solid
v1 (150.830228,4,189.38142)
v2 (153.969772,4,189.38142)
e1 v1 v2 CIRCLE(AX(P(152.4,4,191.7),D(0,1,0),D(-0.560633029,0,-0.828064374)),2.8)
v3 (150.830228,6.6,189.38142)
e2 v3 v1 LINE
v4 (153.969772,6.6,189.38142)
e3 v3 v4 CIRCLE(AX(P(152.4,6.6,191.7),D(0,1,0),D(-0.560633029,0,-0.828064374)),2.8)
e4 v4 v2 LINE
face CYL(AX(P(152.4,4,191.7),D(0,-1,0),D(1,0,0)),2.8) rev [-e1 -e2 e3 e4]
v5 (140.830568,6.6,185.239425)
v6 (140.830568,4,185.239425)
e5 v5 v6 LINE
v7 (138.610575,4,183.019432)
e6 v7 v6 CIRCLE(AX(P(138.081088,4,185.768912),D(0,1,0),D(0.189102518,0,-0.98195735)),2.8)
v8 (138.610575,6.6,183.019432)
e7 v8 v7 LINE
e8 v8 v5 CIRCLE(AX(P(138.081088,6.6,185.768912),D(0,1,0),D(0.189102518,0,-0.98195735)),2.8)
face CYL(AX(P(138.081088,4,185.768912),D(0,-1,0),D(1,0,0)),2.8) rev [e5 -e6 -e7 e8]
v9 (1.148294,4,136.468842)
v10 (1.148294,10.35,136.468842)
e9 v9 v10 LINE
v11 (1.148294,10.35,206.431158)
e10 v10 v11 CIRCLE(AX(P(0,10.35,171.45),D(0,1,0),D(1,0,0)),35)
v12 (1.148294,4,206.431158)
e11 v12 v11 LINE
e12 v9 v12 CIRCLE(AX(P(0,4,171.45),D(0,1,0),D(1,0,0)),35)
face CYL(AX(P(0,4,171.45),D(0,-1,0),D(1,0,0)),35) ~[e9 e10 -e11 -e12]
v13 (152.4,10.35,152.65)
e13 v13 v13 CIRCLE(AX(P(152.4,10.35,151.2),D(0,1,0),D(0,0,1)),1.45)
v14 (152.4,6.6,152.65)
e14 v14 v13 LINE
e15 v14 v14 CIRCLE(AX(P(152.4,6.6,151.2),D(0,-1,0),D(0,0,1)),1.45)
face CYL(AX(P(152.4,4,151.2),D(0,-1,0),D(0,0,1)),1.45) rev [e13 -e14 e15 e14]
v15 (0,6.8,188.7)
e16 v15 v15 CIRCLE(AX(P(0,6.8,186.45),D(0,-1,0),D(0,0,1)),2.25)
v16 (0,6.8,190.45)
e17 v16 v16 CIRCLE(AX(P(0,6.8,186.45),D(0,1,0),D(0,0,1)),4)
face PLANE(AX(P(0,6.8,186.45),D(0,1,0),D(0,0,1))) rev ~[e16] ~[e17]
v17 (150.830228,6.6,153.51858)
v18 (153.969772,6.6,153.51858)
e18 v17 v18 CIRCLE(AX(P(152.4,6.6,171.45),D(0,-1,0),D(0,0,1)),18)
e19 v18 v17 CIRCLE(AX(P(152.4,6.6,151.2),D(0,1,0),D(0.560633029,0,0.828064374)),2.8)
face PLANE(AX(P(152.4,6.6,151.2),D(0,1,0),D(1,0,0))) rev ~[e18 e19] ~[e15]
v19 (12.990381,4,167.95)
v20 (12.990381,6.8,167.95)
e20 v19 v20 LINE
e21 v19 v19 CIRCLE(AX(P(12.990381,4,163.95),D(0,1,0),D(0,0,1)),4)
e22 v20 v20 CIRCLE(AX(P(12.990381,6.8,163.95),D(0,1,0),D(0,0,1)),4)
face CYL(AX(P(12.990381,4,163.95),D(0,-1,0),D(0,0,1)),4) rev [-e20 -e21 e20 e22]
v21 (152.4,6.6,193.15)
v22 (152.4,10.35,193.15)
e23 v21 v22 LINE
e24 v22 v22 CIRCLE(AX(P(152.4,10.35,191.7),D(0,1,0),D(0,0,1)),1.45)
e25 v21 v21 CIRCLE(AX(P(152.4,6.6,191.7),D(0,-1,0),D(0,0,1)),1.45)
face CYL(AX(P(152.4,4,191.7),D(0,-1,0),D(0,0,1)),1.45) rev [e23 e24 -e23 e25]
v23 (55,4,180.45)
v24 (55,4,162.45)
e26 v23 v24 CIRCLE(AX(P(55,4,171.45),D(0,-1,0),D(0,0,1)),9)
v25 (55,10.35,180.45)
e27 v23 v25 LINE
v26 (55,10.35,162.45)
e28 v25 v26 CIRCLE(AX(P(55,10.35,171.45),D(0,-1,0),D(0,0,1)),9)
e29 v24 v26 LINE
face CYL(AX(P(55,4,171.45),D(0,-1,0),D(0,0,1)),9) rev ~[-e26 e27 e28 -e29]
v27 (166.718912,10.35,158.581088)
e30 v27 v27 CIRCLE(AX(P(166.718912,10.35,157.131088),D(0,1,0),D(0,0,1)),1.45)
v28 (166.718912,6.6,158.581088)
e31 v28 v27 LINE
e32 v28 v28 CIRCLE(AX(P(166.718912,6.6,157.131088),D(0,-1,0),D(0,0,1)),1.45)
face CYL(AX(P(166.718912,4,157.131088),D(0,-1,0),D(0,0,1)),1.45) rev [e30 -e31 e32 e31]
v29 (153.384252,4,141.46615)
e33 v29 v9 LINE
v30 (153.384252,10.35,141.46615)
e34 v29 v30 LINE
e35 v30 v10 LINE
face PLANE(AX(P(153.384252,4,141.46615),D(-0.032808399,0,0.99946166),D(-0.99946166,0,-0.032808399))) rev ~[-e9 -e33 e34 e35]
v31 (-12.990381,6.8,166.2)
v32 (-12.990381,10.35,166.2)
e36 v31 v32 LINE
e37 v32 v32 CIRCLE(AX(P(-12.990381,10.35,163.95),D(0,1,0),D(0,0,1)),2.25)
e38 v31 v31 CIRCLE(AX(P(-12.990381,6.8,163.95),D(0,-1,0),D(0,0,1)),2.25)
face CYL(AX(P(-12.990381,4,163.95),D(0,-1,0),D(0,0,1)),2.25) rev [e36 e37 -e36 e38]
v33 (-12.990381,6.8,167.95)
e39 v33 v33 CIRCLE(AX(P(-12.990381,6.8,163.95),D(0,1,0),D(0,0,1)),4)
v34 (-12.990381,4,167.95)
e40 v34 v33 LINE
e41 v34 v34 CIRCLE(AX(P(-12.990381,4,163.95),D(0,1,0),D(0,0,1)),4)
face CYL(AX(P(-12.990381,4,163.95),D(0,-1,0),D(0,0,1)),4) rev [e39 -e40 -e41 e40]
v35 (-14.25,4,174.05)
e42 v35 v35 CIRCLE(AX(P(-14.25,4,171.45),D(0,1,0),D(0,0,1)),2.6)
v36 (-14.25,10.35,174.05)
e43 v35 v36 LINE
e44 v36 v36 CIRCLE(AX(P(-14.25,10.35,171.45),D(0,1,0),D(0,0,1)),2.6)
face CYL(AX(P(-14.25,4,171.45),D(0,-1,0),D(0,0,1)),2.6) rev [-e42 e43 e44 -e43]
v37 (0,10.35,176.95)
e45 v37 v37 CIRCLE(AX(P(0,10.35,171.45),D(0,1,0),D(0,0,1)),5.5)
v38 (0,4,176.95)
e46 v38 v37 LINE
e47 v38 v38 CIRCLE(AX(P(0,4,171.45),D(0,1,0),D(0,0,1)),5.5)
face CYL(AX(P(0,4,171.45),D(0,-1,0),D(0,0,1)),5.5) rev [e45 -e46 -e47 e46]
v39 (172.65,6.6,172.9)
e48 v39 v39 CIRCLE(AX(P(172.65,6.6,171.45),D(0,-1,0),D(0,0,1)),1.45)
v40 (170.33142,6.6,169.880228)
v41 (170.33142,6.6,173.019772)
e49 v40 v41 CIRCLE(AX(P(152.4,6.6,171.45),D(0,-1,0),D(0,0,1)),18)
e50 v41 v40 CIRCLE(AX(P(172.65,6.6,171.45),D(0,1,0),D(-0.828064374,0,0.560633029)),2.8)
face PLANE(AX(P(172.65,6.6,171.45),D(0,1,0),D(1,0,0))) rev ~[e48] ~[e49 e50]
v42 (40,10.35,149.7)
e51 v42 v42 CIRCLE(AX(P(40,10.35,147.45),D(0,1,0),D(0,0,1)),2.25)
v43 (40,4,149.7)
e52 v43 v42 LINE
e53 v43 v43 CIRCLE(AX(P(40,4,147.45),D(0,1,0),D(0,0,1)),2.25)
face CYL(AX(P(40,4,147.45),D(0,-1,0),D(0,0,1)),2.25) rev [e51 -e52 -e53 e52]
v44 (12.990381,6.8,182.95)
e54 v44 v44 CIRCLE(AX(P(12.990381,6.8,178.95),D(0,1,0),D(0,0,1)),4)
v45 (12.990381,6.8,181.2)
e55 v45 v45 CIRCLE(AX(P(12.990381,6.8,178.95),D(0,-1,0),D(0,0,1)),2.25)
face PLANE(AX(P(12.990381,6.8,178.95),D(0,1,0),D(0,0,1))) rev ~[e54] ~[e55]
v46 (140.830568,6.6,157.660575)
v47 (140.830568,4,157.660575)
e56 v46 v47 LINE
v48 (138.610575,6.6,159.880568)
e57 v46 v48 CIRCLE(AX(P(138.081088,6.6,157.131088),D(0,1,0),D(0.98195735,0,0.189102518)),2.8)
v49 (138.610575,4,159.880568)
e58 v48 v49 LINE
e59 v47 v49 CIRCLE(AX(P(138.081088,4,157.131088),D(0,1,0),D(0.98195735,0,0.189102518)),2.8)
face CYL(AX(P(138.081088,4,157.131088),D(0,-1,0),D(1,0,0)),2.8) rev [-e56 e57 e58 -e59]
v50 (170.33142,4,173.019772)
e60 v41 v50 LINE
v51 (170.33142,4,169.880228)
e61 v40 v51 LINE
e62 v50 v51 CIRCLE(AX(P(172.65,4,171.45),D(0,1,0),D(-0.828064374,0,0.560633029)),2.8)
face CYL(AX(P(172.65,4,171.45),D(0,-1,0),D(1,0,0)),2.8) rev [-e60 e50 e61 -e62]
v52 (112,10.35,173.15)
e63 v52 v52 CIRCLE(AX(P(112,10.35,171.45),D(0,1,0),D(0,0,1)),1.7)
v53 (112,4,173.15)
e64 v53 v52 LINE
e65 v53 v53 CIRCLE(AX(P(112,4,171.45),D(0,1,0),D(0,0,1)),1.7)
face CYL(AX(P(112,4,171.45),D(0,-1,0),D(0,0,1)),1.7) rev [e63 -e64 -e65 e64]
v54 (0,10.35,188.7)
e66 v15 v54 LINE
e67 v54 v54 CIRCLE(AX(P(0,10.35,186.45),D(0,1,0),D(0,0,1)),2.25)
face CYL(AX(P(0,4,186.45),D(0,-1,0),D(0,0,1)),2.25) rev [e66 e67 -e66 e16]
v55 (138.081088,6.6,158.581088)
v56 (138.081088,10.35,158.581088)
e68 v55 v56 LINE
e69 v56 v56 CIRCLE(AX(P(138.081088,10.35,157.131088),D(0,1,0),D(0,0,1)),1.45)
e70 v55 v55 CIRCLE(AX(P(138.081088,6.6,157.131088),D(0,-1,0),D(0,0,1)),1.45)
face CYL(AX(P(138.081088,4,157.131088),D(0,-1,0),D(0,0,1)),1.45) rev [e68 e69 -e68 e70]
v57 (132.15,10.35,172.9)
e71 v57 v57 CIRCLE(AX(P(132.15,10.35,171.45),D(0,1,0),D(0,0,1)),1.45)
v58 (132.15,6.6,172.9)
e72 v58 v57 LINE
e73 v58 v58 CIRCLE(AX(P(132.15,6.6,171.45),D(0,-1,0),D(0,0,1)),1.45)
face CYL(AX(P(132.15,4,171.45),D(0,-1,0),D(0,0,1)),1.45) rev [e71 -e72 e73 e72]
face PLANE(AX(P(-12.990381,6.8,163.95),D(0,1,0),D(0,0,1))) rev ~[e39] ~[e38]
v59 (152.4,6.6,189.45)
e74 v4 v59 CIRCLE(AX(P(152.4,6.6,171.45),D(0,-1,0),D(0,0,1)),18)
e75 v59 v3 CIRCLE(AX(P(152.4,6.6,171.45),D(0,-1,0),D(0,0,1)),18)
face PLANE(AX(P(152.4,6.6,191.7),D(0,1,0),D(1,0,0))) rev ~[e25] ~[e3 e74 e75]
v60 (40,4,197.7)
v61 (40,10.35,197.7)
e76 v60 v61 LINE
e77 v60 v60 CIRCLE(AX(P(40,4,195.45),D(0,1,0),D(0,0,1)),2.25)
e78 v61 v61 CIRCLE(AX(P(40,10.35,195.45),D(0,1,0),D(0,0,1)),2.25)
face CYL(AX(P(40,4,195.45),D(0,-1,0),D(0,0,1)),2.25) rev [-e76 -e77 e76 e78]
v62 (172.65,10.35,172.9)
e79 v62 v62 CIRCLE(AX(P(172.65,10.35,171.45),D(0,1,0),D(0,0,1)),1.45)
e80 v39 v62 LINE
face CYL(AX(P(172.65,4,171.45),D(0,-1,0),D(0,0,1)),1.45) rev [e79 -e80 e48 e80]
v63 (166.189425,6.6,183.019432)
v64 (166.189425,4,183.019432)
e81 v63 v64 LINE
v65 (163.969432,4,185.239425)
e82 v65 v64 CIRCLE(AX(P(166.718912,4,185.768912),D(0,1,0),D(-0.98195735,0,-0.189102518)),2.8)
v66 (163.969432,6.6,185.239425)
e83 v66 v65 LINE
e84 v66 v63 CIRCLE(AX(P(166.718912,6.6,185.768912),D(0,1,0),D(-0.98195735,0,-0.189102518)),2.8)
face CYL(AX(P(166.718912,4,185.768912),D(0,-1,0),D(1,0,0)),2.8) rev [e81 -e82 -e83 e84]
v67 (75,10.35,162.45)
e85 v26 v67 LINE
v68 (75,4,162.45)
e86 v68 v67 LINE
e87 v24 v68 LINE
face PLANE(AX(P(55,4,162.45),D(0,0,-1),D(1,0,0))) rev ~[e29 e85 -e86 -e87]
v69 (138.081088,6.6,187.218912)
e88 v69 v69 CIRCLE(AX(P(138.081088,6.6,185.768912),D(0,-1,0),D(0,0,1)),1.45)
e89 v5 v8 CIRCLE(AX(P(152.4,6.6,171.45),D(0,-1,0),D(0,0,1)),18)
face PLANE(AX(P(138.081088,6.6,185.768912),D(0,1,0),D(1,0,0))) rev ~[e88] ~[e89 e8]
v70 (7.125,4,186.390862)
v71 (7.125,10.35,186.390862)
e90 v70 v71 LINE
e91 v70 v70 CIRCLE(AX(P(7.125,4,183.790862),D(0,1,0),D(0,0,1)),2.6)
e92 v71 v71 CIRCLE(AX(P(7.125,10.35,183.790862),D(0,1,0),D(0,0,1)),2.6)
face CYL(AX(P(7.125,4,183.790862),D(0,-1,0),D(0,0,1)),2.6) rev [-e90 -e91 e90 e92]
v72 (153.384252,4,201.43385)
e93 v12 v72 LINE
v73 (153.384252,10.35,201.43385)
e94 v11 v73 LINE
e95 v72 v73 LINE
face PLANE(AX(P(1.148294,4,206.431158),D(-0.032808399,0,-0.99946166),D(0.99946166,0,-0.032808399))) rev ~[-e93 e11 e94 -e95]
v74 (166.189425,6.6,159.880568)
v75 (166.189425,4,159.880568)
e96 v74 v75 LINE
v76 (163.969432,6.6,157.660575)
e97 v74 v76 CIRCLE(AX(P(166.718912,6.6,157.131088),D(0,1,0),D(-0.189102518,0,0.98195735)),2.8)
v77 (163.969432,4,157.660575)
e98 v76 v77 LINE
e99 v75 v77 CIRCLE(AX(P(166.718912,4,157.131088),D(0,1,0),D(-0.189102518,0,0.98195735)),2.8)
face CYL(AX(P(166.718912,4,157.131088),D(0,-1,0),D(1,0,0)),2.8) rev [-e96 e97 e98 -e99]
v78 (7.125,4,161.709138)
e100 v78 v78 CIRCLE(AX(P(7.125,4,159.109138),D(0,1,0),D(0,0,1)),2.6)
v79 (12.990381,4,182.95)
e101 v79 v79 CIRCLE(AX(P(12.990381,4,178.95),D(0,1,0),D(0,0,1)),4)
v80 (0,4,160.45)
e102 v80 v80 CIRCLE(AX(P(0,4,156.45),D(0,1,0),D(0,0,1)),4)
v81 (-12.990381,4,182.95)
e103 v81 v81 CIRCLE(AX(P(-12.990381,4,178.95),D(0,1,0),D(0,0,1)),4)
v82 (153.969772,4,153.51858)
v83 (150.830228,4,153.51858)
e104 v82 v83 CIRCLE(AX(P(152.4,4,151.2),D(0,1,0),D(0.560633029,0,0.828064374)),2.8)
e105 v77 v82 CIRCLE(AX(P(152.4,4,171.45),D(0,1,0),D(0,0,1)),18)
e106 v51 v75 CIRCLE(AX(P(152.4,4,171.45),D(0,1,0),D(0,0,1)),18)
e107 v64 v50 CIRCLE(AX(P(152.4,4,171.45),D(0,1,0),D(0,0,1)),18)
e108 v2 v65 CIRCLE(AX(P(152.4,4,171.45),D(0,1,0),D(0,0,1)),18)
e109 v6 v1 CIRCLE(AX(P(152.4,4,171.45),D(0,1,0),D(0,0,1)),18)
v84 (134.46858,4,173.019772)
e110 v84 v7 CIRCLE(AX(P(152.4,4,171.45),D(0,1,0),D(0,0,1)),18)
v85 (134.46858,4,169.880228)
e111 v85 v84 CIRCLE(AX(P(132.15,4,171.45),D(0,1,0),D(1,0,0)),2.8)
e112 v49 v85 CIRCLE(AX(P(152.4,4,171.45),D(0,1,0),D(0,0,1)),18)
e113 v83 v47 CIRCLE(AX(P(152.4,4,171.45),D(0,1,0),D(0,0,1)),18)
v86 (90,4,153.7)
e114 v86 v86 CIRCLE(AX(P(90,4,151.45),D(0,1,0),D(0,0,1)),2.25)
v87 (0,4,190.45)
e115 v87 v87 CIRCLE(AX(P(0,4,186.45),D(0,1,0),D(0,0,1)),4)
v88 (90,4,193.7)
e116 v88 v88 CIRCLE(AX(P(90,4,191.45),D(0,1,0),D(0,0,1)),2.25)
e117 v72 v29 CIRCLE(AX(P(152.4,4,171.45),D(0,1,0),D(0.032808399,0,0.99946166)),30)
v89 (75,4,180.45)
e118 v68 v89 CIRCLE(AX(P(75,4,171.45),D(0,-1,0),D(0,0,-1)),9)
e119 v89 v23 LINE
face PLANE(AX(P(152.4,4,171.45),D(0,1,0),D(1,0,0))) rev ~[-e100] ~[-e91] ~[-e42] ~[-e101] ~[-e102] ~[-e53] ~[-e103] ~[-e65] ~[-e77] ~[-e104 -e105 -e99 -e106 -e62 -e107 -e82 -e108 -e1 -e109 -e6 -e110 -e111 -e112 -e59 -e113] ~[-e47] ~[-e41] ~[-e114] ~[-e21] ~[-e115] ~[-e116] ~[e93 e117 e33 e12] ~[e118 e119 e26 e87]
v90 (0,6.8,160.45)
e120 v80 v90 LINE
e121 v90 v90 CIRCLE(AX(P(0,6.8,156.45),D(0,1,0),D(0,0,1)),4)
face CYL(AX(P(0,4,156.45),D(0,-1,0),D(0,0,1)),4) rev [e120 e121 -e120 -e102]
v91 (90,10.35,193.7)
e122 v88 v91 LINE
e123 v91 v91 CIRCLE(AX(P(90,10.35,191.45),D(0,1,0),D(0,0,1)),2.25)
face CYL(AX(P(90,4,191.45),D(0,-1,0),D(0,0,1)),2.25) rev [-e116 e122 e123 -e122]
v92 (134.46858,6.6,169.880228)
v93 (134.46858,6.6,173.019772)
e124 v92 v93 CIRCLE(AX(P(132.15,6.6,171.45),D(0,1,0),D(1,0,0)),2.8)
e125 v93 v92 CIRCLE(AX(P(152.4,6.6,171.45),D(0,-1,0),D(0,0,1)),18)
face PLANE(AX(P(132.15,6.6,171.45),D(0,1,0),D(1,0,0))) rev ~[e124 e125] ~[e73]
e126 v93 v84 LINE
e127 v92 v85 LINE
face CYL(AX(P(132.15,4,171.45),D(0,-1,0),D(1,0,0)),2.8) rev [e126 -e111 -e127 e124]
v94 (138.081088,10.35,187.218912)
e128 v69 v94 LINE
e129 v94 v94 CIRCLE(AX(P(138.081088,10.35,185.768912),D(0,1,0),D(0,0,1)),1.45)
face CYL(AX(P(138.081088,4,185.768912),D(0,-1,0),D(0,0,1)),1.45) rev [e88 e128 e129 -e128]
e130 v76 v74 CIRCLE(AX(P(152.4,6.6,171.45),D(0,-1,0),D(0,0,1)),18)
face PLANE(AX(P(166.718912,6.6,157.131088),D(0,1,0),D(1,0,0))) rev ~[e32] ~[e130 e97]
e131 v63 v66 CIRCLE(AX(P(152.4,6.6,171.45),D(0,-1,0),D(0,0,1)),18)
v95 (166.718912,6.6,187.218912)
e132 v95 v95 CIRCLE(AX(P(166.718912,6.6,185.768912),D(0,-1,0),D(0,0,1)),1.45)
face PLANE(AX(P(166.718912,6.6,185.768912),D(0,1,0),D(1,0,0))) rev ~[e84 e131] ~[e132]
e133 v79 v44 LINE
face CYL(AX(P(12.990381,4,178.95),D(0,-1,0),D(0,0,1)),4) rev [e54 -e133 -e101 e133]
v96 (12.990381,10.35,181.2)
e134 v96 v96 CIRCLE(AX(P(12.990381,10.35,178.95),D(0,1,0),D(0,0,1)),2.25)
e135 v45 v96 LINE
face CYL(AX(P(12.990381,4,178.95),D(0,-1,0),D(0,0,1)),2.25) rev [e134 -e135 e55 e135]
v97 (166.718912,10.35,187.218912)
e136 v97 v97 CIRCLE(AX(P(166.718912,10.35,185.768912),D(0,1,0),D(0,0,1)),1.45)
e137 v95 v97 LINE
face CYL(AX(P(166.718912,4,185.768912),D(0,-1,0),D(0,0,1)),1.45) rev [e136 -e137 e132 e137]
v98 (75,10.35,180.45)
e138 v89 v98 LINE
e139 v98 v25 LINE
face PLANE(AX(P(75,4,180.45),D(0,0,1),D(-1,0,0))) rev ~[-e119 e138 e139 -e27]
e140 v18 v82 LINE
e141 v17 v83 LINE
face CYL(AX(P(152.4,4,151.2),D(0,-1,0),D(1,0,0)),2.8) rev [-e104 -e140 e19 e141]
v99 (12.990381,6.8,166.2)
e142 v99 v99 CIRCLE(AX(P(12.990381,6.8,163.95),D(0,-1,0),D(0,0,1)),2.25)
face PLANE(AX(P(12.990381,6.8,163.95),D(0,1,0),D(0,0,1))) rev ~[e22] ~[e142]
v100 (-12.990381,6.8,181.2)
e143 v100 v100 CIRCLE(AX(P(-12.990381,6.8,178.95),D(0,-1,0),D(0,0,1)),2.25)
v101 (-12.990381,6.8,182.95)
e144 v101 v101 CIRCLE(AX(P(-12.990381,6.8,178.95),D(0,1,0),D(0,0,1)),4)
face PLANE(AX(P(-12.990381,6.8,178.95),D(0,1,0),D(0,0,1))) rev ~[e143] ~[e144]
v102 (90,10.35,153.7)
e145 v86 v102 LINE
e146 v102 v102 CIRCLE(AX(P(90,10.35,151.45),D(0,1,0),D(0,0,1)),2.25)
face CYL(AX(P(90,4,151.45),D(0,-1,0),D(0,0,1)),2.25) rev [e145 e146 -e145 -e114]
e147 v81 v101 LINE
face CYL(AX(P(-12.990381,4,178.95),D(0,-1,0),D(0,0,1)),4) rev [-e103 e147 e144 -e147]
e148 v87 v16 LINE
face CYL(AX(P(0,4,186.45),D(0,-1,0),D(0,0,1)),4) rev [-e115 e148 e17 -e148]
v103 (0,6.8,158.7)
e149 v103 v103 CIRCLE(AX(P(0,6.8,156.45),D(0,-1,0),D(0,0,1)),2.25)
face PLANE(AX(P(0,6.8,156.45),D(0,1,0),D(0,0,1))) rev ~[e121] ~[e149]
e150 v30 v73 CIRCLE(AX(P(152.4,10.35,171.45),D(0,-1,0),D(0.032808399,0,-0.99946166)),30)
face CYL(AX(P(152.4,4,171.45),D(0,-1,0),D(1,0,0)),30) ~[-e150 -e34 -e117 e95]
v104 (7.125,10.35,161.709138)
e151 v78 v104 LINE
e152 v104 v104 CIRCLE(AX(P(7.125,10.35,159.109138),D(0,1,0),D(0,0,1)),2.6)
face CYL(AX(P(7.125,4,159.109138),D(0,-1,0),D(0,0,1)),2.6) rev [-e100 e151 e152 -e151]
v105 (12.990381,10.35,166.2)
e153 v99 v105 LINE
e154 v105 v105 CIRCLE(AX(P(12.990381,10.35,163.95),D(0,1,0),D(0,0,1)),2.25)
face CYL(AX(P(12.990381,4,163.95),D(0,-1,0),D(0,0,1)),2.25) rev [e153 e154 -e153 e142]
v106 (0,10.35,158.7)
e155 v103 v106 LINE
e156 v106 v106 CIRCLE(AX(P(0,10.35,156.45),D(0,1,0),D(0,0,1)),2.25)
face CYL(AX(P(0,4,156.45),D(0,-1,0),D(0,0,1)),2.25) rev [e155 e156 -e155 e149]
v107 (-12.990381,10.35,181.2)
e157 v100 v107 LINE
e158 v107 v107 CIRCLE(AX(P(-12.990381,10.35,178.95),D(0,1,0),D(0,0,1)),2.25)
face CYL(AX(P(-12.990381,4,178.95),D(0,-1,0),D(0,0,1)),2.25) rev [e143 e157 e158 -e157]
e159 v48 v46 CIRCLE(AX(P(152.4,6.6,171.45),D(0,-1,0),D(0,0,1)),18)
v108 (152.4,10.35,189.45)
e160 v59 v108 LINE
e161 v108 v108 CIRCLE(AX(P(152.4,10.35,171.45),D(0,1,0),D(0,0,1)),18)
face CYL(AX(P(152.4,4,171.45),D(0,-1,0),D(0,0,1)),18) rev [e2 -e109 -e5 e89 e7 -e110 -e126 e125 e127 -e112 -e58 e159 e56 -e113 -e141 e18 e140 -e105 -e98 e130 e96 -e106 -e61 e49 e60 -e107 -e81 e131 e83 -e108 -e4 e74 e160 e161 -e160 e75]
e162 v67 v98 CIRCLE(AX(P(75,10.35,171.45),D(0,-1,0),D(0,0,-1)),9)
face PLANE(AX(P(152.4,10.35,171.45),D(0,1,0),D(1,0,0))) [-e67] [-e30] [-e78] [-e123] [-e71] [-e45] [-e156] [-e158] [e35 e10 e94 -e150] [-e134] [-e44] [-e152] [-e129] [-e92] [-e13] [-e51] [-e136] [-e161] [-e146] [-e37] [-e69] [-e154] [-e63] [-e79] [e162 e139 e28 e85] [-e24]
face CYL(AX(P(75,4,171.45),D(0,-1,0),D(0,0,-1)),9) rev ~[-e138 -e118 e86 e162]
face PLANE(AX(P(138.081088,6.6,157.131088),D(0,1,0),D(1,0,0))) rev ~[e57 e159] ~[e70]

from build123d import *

# Parameters (mm, degrees)
PLACA_START                     = 4
PLACA_DEPTH                     = 6.35
PLACA_R1_START                  = 4
CROQUIS14_R                     = 35
PLACA_R1_DEPTH                  = 6.35
PLACA_R2_START                  = 4
CROQUIS15_R                     = 30
PLACA_R2_DEPTH                  = 6.35
ALIGERADO_START                 = 4
ALIGERADO_DEPTH                 = 6.35
BARRENOS_SEPARADORES_M4_START   = 4
CROQUIS17_R                     = 2.25
BARRENOS_SEPARADORES_M4_DEPTH   = 6.35
BARRENOS_M2_Y_M3_START          = 4
CROQUIS18_R                     = 2.25
CROQUIS18_R_2                   = 2.6
CROQUIS18_R_3                   = 5.5
CROQUIS18_R_4                   = 18
CROQUIS18_R_5                   = 1.45
BARRENOS_M2_Y_M3_DEPTH          = 6.35
REFRENTADO_M4_CABEZA_BAJA_START = 4
CROQUIS19_R                     = 4
REFRENTADO_M4_CABEZA_BAJA_DEPTH = 2.8
REFRENTADO_M2_5_START           = 4
CROQUIS20_R                     = 2.8
REFRENTADO_M2_5_DEPTH           = 2.6
ROSCA_M3_BASES_CINCHO_START     = 4
CROQUIS21_R                     = 1.25
ROSCA_M3_BASES_CINCHO_DEPTH     = 6.35
PASO_M3_BASES_CINCHO_START      = 4
CROQUIS22_R                     = 1.7
PASO_M3_BASES_CINCHO_DEPTH      = 6.35


with BuildPart() as part:
    # Croquis13 → Placa (new body)
    with BuildSketch(Plane(origin=(0, 0, 0), x_dir=(1, 0, 0), z_dir=(0, 1, 0)).offset(PLACA_START)):
        Polygon((1.148293963, -206.431158085), (153.384251969, -201.433849787), (153.384251969, -141.466150213), (1.148293963, -136.468841915), align=None)
    extrude(amount=PLACA_DEPTH)

    # Croquis14 → Placa_r1 (add)
    with BuildSketch(Plane(origin=(0, 0, 0), x_dir=(1, 0, 0), z_dir=(0, 1, 0)).offset(PLACA_R1_START)):
        with Locations((0, -171.45)):
            Circle(CROQUIS14_R)
    extrude(amount=PLACA_R1_DEPTH)

    # Croquis15 → Placa_r2 (add)
    with BuildSketch(Plane(origin=(0, 0, 0), x_dir=(1, 0, 0), z_dir=(0, 1, 0)).offset(PLACA_R2_START)):
        with Locations((152.4, -171.45)):
            Circle(CROQUIS15_R)
    extrude(amount=PLACA_R2_DEPTH)

    # Croquis16 → Aligerado (cut)
    with BuildSketch(Plane(origin=(0, 0, 0), x_dir=(1, 0, 0), z_dir=(0, 1, 0)).offset(ALIGERADO_START)):
        with BuildLine():
            Line((55, -162.45), (75, -162.45))
            ThreePointArc((75, -162.45), (84, -171.45), (75, -180.45))
            Line((75, -180.45), (55, -180.45))
            ThreePointArc((55, -180.45), (46, -171.45), (55, -162.45))
        make_face()
    extrude(amount=ALIGERADO_DEPTH, mode=Mode.SUBTRACT)

    # Croquis17 → Barrenos_separadores_M4 (cut)
    with BuildSketch(Plane(origin=(0, 0, 0), x_dir=(1, 0, 0), z_dir=(0, 1, 0)).offset(BARRENOS_SEPARADORES_M4_START)):
        with Locations((40, -195.45)):
            Circle(CROQUIS17_R)
        with Locations((40, -147.45)):
            Circle(CROQUIS17_R)
        with Locations((90, -191.45)):
            Circle(CROQUIS17_R)
        with Locations((90, -151.45)):
            Circle(CROQUIS17_R)
    extrude(amount=BARRENOS_SEPARADORES_M4_DEPTH, mode=Mode.SUBTRACT)

    # Croquis18 → Barrenos_M2_y_M3 (cut)
    with BuildSketch(Plane(origin=(0, 0, 0), x_dir=(1, 0, 0), z_dir=(0, 1, 0)).offset(BARRENOS_M2_Y_M3_START)):
        with Locations((12.990381057, -178.95)):
            Circle(CROQUIS18_R)
        with Locations((0, -186.45)):
            Circle(CROQUIS18_R)
        with Locations((-12.990381057, -178.95)):
            Circle(CROQUIS18_R)
        with Locations((-12.990381057, -163.95)):
            Circle(CROQUIS18_R)
        with Locations((0, -156.45)):
            Circle(CROQUIS18_R)
        with Locations((12.990381057, -163.95)):
            Circle(CROQUIS18_R)
        with Locations((7.125, -183.790862004)):
            Circle(CROQUIS18_R_2)
        with Locations((-14.25, -171.45)):
            Circle(CROQUIS18_R_2)
        with Locations((7.125, -159.109137996)):
            Circle(CROQUIS18_R_2)
        with Locations((0, -171.45)):
            Circle(CROQUIS18_R_3)
        with Locations((152.4, -171.45)):
            Circle(CROQUIS18_R_4)
        with Locations((172.65, -171.45)):
            Circle(CROQUIS18_R_5)
        with Locations((166.718912319, -185.768912319)):
            Circle(CROQUIS18_R_5)
        with Locations((152.4, -191.7)):
            Circle(CROQUIS18_R_5)
        with Locations((138.081087681, -185.768912319)):
            Circle(CROQUIS18_R_5)
        with Locations((132.15, -171.45)):
            Circle(CROQUIS18_R_5)
        with Locations((138.081087681, -157.131087681)):
            Circle(CROQUIS18_R_5)
        with Locations((152.4, -151.2)):
            Circle(CROQUIS18_R_5)
        with Locations((166.718912319, -157.131087681)):
            Circle(CROQUIS18_R_5)
    extrude(amount=BARRENOS_M2_Y_M3_DEPTH, mode=Mode.SUBTRACT)

    # Croquis19 → Refrentado_M4_cabeza_baja (cut)
    with BuildSketch(Plane(origin=(0, 0, 0), x_dir=(1, 0, 0), z_dir=(0, 1, 0)).offset(REFRENTADO_M4_CABEZA_BAJA_START)):
        with Locations((12.990381057, -178.95)):
            Circle(CROQUIS19_R)
        with Locations((0, -186.45)):
            Circle(CROQUIS19_R)
        with Locations((-12.990381057, -178.95)):
            Circle(CROQUIS19_R)
        with Locations((-12.990381057, -163.95)):
            Circle(CROQUIS19_R)
        with Locations((0, -156.45)):
            Circle(CROQUIS19_R)
        with Locations((12.990381057, -163.95)):
            Circle(CROQUIS19_R)
    extrude(amount=REFRENTADO_M4_CABEZA_BAJA_DEPTH, mode=Mode.SUBTRACT)

    # Croquis20 → Refrentado_M2-5 (cut)
    with BuildSketch(Plane(origin=(0, 0, 0), x_dir=(1, 0, 0), z_dir=(0, 1, 0)).offset(REFRENTADO_M2_5_START)):
        with Locations((172.65, -171.45)):
            Circle(CROQUIS20_R)
        with Locations((166.718912319, -185.768912319)):
            Circle(CROQUIS20_R)
        with Locations((152.4, -191.7)):
            Circle(CROQUIS20_R)
        with Locations((138.081087681, -185.768912319)):
            Circle(CROQUIS20_R)
        with Locations((132.15, -171.45)):
            Circle(CROQUIS20_R)
        with Locations((138.081087681, -157.131087681)):
            Circle(CROQUIS20_R)
        with Locations((152.4, -151.2)):
            Circle(CROQUIS20_R)
        with Locations((166.718912319, -157.131087681)):
            Circle(CROQUIS20_R)
    extrude(amount=REFRENTADO_M2_5_DEPTH, mode=Mode.SUBTRACT)

    # Croquis21 → Rosca_M3_bases_cincho (cut)
    with BuildSketch(Plane(origin=(0, 0, 0), x_dir=(1, 0, 0), z_dir=(0, 1, 0)).offset(ROSCA_M3_BASES_CINCHO_START)):
        with Locations((112, -171.45)):
            Circle(CROQUIS21_R)
    extrude(amount=ROSCA_M3_BASES_CINCHO_DEPTH, mode=Mode.SUBTRACT)

    # Croquis22 → Paso_M3_bases_cincho (cut)
    with BuildSketch(Plane(origin=(0, 0, 0), x_dir=(1, 0, 0), z_dir=(0, 1, 0)).offset(PASO_M3_BASES_CINCHO_START)):
        with Locations((112, -171.45)):
            Circle(CROQUIS22_R)
    extrude(amount=PASO_M3_BASES_CINCHO_DEPTH, mode=Mode.SUBTRACT)


solid = part.part
